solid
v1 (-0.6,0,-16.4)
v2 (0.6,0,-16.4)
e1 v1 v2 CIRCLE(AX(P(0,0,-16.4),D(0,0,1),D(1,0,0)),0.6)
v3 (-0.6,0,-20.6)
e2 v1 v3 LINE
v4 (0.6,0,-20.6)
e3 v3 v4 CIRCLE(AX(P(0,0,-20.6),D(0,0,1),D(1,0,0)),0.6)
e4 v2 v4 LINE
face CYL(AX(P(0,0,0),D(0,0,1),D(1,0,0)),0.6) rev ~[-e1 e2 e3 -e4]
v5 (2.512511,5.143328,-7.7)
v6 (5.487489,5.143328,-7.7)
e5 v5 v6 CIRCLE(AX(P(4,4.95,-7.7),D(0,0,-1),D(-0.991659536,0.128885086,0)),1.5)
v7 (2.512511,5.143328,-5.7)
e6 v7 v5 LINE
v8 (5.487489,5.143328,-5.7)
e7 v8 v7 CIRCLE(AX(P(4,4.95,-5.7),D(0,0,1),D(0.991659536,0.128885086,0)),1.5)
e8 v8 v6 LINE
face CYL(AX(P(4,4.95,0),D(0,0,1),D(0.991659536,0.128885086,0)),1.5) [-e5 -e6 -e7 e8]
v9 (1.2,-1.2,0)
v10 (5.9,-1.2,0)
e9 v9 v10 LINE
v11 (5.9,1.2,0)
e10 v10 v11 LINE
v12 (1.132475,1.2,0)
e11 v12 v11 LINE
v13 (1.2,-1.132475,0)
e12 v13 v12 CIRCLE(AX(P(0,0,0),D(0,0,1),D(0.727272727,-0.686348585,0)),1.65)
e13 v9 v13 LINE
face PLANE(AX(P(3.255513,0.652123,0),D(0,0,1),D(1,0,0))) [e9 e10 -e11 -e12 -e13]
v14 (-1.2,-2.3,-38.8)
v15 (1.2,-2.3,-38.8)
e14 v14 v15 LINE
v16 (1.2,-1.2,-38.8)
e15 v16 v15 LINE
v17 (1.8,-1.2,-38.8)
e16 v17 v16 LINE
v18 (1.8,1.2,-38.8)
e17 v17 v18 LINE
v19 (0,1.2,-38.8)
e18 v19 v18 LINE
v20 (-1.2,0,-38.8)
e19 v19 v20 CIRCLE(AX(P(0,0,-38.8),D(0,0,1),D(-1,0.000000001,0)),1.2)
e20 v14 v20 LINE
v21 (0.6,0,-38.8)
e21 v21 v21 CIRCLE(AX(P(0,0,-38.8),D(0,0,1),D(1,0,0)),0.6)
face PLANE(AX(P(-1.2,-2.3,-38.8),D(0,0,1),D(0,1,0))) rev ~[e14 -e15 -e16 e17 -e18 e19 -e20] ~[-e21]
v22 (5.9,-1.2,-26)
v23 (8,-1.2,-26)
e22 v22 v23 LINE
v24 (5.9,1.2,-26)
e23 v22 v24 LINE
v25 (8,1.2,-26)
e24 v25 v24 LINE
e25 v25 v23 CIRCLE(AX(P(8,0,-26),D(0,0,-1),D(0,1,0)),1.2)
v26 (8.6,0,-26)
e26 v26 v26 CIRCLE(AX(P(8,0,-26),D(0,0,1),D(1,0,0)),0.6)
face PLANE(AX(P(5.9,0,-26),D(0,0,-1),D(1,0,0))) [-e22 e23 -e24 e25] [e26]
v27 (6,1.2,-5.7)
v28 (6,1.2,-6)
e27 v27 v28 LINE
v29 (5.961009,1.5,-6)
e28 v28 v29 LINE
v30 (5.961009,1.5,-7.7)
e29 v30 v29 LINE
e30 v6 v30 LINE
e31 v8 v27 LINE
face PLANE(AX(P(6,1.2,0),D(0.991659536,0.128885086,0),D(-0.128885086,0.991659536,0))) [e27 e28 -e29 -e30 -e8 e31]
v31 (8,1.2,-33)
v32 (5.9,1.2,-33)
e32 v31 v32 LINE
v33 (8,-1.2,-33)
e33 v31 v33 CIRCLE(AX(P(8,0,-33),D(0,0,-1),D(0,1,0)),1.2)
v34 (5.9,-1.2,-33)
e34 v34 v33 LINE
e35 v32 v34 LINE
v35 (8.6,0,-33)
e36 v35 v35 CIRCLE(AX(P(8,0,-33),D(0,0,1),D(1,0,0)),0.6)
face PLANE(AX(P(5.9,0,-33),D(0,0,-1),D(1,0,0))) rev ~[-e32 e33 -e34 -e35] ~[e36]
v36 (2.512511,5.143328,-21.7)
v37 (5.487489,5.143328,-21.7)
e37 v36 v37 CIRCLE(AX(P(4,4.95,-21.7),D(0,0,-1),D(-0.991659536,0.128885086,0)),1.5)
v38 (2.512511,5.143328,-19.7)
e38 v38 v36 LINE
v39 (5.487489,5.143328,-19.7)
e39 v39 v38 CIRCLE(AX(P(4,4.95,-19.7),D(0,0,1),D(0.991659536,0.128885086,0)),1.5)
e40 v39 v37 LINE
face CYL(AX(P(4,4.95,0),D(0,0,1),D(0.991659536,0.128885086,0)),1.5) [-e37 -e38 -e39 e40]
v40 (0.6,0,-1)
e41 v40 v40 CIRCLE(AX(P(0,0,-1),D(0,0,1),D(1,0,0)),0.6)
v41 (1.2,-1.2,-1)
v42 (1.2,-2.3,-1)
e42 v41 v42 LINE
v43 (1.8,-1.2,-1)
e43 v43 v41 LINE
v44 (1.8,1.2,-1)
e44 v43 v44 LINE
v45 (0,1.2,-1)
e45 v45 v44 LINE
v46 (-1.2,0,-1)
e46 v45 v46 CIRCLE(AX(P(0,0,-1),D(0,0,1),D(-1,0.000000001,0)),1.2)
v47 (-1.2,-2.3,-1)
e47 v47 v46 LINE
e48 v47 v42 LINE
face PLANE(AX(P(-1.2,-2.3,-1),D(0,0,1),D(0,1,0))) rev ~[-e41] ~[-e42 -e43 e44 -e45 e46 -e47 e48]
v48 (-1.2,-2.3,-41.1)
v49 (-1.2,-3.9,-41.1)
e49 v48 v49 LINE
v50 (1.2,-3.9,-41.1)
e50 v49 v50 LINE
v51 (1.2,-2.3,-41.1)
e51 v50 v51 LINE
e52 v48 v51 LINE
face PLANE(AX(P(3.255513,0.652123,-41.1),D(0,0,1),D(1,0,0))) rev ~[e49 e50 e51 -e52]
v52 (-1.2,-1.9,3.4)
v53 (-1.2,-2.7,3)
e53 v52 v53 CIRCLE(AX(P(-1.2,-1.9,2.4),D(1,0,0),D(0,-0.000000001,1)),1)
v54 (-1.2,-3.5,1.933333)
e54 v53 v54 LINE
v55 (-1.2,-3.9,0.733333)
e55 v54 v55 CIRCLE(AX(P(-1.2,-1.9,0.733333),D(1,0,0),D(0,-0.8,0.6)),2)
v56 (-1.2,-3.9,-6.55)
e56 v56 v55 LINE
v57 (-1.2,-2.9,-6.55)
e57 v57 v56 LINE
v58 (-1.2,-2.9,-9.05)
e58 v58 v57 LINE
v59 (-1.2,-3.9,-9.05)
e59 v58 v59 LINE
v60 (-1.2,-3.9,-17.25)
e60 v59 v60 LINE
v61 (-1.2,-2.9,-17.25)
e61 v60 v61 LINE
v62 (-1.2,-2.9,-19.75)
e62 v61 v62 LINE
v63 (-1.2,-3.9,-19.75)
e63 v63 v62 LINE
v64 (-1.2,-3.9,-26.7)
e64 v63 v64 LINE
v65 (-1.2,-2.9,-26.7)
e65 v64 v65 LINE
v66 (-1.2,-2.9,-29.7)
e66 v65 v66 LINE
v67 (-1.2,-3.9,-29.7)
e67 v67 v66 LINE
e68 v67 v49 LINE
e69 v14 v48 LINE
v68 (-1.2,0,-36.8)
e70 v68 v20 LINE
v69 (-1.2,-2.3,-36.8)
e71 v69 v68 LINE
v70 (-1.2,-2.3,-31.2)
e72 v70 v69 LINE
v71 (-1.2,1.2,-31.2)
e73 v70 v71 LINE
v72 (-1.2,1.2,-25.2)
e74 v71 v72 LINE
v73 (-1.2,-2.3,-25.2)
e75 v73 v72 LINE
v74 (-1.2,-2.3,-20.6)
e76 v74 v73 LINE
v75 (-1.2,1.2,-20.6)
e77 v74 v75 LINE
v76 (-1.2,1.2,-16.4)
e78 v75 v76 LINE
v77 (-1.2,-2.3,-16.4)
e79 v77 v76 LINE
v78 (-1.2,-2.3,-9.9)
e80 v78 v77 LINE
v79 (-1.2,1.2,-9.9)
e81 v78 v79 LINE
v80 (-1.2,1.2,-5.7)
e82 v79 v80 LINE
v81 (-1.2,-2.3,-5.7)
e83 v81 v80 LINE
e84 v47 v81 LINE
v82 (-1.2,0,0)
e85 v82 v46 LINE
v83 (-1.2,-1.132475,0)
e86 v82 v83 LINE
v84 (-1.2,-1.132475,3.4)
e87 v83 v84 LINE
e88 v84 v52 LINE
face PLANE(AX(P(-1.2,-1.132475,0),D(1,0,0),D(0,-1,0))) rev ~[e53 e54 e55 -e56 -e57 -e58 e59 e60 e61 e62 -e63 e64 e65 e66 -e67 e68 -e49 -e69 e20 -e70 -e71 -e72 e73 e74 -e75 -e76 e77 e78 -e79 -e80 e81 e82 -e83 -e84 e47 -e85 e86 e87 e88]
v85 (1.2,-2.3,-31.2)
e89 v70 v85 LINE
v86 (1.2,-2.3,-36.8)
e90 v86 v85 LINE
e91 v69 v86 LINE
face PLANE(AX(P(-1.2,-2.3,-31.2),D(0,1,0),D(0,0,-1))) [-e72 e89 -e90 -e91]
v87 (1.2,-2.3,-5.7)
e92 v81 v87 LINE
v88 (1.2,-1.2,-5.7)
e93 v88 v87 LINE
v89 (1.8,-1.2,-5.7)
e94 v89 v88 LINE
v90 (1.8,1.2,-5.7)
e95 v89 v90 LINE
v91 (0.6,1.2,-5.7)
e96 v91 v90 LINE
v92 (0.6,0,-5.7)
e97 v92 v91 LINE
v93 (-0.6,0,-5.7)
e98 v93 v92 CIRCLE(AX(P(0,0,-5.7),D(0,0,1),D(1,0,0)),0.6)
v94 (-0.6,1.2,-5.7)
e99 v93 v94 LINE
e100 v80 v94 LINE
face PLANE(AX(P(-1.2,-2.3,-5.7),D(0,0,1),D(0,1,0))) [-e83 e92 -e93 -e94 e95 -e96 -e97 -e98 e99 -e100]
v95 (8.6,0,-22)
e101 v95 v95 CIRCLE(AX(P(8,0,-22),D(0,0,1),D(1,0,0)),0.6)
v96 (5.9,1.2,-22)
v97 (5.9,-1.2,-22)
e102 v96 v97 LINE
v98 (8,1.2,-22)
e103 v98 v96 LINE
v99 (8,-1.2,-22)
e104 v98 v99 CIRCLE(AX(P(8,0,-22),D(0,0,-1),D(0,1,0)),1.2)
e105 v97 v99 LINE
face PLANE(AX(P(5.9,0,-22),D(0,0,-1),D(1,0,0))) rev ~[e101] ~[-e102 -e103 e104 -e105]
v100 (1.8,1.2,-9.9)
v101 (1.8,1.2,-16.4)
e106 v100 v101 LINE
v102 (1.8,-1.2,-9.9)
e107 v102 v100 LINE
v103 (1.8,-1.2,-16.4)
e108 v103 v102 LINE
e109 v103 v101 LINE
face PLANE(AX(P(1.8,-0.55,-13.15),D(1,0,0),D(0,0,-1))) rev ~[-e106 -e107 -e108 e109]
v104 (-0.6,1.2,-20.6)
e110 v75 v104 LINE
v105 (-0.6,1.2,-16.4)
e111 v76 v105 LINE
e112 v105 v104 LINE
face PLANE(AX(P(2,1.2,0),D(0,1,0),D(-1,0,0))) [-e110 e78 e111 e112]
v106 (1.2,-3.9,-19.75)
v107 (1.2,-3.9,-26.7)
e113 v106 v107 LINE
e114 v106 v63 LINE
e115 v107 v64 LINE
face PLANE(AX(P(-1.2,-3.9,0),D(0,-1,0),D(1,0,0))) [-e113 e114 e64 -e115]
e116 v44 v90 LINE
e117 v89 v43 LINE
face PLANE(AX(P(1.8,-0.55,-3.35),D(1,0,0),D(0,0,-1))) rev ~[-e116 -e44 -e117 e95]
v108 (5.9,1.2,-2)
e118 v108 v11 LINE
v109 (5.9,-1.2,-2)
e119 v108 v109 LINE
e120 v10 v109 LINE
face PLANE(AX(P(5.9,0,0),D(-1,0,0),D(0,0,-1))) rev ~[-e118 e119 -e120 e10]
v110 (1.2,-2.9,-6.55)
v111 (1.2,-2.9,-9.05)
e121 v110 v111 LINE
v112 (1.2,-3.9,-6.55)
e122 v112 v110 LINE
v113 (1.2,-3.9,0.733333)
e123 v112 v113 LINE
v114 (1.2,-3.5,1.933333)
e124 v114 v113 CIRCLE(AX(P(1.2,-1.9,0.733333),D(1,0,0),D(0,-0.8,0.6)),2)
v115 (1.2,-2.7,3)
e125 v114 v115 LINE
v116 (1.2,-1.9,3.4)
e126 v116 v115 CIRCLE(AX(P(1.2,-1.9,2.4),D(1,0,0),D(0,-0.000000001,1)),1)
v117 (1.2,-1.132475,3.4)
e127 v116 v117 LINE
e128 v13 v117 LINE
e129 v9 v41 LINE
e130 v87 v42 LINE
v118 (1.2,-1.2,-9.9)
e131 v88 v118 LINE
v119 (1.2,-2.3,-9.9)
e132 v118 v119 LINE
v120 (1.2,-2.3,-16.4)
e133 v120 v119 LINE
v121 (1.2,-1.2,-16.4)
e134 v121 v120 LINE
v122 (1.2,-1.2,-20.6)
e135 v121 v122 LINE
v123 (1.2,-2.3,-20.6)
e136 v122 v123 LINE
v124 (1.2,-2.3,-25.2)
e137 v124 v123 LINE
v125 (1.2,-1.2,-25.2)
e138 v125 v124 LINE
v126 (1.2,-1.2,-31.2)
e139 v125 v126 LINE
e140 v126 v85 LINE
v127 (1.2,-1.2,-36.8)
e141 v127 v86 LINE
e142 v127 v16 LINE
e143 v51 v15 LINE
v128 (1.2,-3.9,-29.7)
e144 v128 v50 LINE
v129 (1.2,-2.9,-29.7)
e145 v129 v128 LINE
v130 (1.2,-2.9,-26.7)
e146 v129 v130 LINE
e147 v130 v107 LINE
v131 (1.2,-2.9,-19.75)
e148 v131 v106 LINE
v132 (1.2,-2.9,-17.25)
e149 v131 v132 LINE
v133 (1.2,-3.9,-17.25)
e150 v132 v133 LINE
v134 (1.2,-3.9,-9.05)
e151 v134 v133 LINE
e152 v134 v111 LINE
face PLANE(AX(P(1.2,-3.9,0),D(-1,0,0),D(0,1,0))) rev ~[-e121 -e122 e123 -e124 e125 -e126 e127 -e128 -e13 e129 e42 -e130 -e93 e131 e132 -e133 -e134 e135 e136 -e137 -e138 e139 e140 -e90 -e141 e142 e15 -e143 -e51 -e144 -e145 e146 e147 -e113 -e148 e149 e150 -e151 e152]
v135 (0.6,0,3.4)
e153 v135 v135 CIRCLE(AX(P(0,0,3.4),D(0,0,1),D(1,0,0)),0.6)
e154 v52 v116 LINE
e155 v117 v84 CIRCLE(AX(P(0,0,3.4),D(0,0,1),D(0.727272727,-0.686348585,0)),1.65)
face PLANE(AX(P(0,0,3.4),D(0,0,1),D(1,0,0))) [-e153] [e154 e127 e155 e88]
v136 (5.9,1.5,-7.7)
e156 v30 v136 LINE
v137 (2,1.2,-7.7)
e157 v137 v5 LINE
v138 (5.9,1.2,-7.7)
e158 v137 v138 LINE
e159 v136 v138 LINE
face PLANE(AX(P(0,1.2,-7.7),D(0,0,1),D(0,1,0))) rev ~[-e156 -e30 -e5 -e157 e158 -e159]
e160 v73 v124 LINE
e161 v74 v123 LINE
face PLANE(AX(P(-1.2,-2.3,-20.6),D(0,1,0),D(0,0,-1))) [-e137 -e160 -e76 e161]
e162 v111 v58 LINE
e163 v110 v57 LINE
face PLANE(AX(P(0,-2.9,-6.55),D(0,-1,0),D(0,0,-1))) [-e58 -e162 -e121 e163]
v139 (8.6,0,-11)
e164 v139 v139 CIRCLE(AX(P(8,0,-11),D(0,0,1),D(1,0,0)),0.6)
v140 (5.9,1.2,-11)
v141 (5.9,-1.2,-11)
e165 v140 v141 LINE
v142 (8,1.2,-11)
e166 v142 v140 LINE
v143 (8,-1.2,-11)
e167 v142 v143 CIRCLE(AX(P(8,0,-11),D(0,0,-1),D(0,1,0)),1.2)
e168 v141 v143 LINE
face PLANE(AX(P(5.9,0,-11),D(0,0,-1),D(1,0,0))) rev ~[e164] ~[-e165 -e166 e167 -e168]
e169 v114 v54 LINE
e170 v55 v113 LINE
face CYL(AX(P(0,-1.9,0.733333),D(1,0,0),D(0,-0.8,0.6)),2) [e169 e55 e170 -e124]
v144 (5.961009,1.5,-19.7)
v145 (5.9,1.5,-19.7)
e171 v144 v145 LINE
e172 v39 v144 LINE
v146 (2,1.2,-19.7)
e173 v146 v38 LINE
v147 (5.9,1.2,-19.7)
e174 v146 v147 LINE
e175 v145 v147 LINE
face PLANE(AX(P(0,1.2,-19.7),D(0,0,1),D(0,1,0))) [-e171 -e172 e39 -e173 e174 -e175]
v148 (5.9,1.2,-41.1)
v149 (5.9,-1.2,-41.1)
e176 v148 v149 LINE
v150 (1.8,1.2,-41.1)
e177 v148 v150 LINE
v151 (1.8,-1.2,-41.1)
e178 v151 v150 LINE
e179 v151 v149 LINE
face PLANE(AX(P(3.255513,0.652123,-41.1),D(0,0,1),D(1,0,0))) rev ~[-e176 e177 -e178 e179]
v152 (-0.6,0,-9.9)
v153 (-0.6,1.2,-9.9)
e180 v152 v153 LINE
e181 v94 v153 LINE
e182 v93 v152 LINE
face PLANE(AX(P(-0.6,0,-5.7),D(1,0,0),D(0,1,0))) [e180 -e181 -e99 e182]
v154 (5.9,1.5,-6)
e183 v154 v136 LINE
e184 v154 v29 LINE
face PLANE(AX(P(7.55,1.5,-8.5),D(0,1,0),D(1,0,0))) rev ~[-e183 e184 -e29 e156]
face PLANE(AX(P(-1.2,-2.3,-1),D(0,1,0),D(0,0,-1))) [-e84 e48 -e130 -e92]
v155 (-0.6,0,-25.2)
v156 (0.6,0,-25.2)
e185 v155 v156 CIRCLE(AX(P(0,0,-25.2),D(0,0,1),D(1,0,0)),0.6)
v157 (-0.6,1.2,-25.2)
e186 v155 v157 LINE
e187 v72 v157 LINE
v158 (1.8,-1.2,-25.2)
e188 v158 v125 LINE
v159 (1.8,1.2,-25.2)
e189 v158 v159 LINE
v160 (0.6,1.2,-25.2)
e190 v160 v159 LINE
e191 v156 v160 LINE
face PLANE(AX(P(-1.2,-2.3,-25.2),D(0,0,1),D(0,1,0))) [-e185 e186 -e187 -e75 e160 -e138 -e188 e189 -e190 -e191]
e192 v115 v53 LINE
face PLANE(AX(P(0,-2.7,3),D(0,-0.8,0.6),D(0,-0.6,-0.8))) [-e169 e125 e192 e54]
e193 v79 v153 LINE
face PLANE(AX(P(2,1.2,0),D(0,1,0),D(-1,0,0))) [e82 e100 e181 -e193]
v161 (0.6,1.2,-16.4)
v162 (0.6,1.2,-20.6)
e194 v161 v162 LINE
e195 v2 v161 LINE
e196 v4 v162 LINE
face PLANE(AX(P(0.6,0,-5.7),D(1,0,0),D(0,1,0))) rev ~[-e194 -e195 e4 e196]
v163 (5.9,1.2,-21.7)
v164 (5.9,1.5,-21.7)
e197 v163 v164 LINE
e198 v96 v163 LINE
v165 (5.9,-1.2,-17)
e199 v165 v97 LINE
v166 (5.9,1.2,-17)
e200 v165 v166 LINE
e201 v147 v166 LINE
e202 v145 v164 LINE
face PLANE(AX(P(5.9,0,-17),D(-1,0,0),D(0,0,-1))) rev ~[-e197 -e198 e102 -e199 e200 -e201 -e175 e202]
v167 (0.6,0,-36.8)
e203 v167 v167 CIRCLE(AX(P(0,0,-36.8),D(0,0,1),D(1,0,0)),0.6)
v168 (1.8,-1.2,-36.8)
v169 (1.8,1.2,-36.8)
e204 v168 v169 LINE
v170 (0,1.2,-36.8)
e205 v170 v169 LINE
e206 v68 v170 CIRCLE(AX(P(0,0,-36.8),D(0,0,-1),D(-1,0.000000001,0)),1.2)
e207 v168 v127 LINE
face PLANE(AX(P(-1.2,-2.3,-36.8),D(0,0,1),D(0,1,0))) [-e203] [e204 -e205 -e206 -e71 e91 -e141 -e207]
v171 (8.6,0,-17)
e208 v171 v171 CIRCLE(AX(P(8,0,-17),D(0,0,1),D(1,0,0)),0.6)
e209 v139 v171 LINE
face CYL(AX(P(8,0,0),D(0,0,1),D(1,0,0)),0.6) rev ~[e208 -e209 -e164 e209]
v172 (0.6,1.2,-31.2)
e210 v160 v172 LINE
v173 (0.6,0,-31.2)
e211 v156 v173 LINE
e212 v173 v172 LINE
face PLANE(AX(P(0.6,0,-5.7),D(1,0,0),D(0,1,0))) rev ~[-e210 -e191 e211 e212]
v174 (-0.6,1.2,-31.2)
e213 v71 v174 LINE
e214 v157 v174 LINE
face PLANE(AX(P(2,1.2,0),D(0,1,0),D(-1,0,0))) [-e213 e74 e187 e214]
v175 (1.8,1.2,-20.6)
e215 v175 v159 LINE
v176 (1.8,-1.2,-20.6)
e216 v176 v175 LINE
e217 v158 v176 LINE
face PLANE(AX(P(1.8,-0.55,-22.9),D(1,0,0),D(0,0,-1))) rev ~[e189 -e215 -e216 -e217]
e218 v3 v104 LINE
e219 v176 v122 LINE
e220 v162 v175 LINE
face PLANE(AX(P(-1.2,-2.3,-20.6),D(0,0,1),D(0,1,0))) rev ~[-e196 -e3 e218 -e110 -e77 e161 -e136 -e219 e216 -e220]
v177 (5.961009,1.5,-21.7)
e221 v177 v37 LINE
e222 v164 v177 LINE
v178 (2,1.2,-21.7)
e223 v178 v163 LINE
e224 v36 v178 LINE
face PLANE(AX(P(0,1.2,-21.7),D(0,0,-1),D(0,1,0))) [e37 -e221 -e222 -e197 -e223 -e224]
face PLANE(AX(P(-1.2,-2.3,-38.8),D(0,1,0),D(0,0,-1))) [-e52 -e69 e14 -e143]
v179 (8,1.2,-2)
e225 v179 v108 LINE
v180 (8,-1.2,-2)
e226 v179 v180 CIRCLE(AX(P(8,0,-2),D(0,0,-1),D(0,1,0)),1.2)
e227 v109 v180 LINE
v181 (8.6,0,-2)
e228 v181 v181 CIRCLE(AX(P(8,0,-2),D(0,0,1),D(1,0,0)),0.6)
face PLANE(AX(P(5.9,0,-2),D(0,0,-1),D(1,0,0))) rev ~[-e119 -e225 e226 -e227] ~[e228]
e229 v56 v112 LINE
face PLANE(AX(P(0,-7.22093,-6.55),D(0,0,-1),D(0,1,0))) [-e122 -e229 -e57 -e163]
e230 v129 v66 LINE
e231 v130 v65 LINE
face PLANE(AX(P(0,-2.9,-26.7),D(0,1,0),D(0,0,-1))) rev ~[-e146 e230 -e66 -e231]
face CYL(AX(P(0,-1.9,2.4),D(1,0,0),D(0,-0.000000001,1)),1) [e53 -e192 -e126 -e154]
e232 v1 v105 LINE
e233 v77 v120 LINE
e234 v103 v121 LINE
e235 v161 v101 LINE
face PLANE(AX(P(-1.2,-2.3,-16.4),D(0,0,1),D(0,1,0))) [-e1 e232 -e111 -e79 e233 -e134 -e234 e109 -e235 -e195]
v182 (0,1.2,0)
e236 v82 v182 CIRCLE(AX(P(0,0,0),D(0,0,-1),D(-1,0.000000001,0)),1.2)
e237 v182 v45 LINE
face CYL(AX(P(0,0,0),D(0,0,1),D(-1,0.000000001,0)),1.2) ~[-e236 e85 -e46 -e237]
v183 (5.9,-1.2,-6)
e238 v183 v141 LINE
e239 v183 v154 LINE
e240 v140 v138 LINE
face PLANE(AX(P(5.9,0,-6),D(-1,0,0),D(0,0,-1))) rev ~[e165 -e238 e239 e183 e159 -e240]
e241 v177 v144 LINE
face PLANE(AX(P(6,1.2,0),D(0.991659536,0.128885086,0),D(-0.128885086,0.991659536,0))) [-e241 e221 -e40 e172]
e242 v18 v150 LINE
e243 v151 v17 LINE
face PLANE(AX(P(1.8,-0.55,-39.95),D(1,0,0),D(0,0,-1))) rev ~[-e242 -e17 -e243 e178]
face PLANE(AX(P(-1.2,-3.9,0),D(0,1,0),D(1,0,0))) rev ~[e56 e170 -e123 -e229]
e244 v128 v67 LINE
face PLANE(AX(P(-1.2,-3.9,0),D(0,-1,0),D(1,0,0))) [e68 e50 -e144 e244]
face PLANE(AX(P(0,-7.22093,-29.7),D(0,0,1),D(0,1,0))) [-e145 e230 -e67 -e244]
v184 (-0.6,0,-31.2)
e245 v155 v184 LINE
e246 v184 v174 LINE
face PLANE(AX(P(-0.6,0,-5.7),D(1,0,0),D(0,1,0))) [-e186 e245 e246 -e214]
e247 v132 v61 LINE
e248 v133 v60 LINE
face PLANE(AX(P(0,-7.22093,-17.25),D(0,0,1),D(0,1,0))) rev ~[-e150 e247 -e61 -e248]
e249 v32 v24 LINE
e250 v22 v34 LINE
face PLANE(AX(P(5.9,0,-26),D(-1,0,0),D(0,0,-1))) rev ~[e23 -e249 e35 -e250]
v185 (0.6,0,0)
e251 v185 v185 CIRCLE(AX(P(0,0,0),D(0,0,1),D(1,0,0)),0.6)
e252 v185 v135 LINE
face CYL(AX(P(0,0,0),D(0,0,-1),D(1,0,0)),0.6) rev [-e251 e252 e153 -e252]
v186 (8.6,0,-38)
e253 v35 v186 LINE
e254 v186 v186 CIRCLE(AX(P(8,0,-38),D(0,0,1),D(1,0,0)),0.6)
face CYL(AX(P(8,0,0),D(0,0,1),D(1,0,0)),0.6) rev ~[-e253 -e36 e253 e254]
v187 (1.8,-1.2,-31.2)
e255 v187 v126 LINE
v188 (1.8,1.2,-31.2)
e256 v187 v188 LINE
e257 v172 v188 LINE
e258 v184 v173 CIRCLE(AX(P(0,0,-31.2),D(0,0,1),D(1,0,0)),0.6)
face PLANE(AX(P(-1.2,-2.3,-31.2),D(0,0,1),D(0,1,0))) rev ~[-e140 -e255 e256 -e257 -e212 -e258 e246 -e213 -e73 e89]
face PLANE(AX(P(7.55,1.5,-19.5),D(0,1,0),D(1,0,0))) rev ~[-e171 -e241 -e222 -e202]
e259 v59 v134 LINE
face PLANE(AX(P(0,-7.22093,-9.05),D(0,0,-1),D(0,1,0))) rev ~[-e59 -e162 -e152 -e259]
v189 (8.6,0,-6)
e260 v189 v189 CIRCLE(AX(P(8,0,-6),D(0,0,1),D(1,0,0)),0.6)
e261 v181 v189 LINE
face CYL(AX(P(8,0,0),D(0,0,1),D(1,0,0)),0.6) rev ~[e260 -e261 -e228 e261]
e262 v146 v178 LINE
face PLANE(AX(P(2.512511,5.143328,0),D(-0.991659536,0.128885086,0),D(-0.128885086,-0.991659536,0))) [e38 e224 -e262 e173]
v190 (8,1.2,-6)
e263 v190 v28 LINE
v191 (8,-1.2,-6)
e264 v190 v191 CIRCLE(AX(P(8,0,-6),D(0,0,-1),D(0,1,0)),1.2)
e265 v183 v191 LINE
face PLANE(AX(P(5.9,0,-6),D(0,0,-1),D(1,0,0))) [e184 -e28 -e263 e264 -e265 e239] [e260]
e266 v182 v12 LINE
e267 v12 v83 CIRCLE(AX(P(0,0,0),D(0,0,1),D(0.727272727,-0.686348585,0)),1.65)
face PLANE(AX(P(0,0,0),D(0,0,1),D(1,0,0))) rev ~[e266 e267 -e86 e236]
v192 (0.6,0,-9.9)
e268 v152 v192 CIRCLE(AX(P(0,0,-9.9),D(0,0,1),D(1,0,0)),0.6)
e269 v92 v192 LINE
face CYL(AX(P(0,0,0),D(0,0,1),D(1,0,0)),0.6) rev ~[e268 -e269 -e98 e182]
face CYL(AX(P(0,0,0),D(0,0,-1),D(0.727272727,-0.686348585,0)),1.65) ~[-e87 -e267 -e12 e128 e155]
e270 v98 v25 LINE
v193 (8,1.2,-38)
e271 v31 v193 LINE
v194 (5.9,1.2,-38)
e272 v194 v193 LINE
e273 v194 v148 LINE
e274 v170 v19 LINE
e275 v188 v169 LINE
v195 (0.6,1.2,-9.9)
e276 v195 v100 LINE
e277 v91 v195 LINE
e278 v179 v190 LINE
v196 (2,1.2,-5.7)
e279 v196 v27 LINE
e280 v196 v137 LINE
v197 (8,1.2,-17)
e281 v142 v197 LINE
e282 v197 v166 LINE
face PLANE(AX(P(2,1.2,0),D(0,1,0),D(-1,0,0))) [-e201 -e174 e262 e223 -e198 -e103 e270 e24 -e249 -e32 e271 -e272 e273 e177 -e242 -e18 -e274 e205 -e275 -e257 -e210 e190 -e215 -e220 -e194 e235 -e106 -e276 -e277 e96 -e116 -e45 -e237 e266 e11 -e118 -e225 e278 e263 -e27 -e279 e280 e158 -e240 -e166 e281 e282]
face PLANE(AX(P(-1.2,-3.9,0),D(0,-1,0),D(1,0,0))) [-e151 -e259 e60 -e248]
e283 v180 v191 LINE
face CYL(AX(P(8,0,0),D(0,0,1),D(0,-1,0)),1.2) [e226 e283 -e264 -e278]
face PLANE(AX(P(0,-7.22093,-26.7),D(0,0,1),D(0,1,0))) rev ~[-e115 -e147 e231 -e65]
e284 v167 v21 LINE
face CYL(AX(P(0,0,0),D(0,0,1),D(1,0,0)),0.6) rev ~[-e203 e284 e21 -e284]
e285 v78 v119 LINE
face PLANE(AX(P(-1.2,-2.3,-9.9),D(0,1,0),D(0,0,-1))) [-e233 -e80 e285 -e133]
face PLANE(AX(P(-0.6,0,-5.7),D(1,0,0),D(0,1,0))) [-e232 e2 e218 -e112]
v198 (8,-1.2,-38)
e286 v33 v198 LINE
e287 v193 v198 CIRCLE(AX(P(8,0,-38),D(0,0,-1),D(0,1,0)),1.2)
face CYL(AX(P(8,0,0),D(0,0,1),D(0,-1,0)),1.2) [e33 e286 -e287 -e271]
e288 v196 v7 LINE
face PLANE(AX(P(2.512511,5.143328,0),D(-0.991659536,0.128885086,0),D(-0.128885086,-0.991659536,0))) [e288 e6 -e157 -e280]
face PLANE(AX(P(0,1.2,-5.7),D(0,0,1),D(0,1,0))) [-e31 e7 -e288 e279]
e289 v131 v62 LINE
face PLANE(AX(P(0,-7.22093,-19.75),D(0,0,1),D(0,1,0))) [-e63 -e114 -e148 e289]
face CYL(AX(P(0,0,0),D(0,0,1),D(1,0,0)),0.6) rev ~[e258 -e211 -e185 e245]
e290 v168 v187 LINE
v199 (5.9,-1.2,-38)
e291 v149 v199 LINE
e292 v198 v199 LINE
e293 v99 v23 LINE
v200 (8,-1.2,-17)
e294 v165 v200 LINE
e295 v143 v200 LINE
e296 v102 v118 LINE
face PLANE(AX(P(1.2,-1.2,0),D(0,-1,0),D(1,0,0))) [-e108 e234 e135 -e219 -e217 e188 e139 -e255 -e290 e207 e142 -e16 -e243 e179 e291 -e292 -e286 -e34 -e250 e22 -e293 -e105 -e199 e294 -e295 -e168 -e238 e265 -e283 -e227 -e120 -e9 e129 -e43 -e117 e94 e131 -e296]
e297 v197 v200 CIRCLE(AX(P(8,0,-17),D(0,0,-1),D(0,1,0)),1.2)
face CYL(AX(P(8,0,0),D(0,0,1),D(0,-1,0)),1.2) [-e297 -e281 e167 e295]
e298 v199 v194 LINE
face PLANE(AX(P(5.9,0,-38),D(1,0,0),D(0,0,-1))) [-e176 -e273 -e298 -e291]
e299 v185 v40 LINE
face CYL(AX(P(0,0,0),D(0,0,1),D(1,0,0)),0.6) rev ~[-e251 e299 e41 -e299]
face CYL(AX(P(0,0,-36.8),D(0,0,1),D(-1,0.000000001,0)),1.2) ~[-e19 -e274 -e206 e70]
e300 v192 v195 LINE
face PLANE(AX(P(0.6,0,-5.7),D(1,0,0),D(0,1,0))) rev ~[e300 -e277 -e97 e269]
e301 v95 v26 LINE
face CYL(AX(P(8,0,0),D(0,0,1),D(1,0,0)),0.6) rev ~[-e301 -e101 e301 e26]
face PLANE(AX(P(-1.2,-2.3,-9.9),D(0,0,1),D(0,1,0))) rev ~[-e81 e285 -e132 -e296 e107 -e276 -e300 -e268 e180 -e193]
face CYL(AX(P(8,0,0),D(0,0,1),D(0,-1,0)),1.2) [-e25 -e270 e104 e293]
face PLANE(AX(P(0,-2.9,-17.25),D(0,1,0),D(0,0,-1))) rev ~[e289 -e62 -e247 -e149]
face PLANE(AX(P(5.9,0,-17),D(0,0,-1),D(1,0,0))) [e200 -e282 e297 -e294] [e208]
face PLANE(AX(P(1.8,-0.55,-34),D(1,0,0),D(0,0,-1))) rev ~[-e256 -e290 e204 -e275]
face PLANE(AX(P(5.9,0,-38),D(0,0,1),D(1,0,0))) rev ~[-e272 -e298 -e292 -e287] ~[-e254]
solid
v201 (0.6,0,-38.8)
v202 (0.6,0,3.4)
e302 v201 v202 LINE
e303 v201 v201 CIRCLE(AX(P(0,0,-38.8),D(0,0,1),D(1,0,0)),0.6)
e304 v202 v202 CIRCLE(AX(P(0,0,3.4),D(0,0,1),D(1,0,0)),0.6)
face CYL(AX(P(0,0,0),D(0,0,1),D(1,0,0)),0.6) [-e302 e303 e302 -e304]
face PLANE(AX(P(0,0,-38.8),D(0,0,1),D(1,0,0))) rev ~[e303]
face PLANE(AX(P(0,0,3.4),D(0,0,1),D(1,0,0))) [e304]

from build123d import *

# Parameters (mm, degrees)
SKETCH_1_R           = 0.6
EXTRUDE_1_DEPTH      = 41.1
SKETCH_2_W           = 5.7
SKETCH_2_H           = 5.25
SKETCH_2_W_2         = 12
SKETCH_2_W_3         = 19.4
CUT_EXTRUDE_1_DEPTH  = 9.75
CUT_EXTRUDE_START    = -1.2
SKETCH_6_W           = 4.7
SKETCH_6_H           = 3.5
SKETCH_6_W_2         = 6.5
SKETCH_6_W_3         = 4.6
SKETCH_6_W_4         = 5.6
SKETCH_6_W_5         = 2.3
CUT_EXTRUDE_4_DEPTH  = 3
CUT_EXTRUDE_5_DEPTH  = 3
CUT_EXTRUDE_START_2  = -36.8
CUT_EXTRUDE_6_DEPTH  = 3
CUT_EXTRUDE_START_3  = -5.7
SKETCH_11_W          = 1.2
SKETCH_11_H          = 1.2
CUT_EXTRUDE_7_DEPTH  = 27
SKETCH_12_W          = 3
SKETCH_12_H          = 4.320930259
SKETCH_12_W_2        = 2.5
CUT_EXTRUDE_8_DEPTH  = 3.5
SKETCH_13_W          = 3.3
SKETCH_13_H          = 2
SKETCH_13_H_2        = 5
SKETCH_13_H_3        = 7
SKETCH_13_H_4        = 3.1
CUT_EXTRUDE_9_DEPTH  = 1.5
SKETCH_14_R          = 1.65
SKETCH_14_R_2        = 0.6
EXTRUDE_2_DEPTH      = 3.4
CUT_EXTRUDE_10_DEPTH = 1.7
SKETCH_17_R          = 0.6
EXTRUDE_3_DEPTH      = 3.4
EXTRUDE_3_DEPTH_BACK = 38.8


with BuildPart() as part:
    # 草图1 → 凸台-拉伸1 (new body)
    with BuildSketch(Plane.XY):
        with BuildLine():
            Line((2, 1.2), (-1.2, 1.2))
            Line((-1.2, 1.2), (-1.2, -3.9))
            Line((-1.2, -3.9), (1.2, -3.9))
            Line((1.2, -3.9), (1.2, -1.2))
            Line((1.2, -1.2), (8, -1.2))
            ThreePointArc((8, -1.2), (9.2, 0), (8, 1.2))
            Line((8, 1.2), (6, 1.2))
            Line((6, 1.2), (5.487489304, 5.143327629))
            ThreePointArc((5.487489304, 5.143327629), (4, 6.45), (2.512510696, 5.143327629))
            Line((2.512510696, 5.143327629), (2, 1.2))
        make_face()
        Circle(SKETCH_1_R, mode=Mode.SUBTRACT)
        with Locations((8, 0)):
            Circle(SKETCH_1_R, mode=Mode.SUBTRACT)
    extrude(amount=-EXTRUDE_1_DEPTH)

    # 草图2 → 切除-拉伸1 (cut, symmetric)
    with BuildSketch(Plane(origin=(0, 0, 0), x_dir=(0, 0, -1), z_dir=(1, 0, 0))):
        with Locations((2.85, 3.825)):
            Rectangle(SKETCH_2_W, SKETCH_2_H)
        with Locations((13.7, 3.825)):
            Rectangle(SKETCH_2_W_2, SKETCH_2_H)
        with Locations((31.4, 3.825)):
            Rectangle(SKETCH_2_W_3, SKETCH_2_H)
    extrude(amount=CUT_EXTRUDE_1_DEPTH, both=True, mode=Mode.SUBTRACT)

    # 草图6 → 切除-拉伸4 (cut)
    with BuildSketch(Plane(origin=(0, 0, 0), x_dir=(0, 0, -1), z_dir=(1, 0, 0)).offset(CUT_EXTRUDE_START)):
        with Locations((3.35, -0.55)):
            Rectangle(SKETCH_6_W, SKETCH_6_H)
        with Locations((13.15, -0.55)):
            Rectangle(SKETCH_6_W_2, SKETCH_6_H)
        with Locations((22.9, -0.55)):
            Rectangle(SKETCH_6_W_3, SKETCH_6_H)
        with Locations((34, -0.55)):
            Rectangle(SKETCH_6_W_4, SKETCH_6_H)
        with Locations((39.95, -0.55)):
            Rectangle(SKETCH_6_W_5, SKETCH_6_H)
    extrude(amount=CUT_EXTRUDE_4_DEPTH, mode=Mode.SUBTRACT)

    # 草图9 → 切除-拉伸5 (cut)
    with BuildSketch(Plane.XY):
        with BuildLine():
            Line((0, 1.2), (-1.2, 1.2))
            Line((-1.2, 1.2), (-1.2, 0))
            ThreePointArc((-1.2, 0), (-0.848528137, 0.848528137), (0, 1.2))
        make_face()
    extrude(amount=-CUT_EXTRUDE_5_DEPTH, mode=Mode.SUBTRACT)

    # 草图9<3> → 切除-拉伸6 (cut)
    with BuildSketch(Plane.XY.offset(CUT_EXTRUDE_START_2)):
        with BuildLine():
            Line((0, 1.2), (-1.2, 1.2))
            Line((-1.2, 1.2), (-1.2, 0))
            ThreePointArc((-1.2, 0), (-0.848528137, 0.848528137), (0, 1.2))
        make_face()
    extrude(amount=-CUT_EXTRUDE_6_DEPTH, mode=Mode.SUBTRACT)

    # 草图11 → 切除-拉伸7 (cut)
    with BuildSketch(Plane.XY.offset(CUT_EXTRUDE_START_3)):
        with Locations((0, 0.6)):
            Rectangle(SKETCH_11_W, SKETCH_11_H)
    extrude(amount=-CUT_EXTRUDE_7_DEPTH, mode=Mode.SUBTRACT)

    # 草图12 → 切除-拉伸8 (cut, symmetric)
    with BuildSketch(Plane(origin=(0, 0, 0), x_dir=(0, 0, -1), z_dir=(1, 0, 0))):
        with Locations((28.2, -5.06046513)):
            Rectangle(SKETCH_12_W, SKETCH_12_H)
        with Locations((18.5, -5.06046513)):
            Rectangle(SKETCH_12_W_2, SKETCH_12_H)
        with Locations((7.8, -5.06046513)):
            Rectangle(SKETCH_12_W_2, SKETCH_12_H)
    extrude(amount=CUT_EXTRUDE_8_DEPTH, both=True, mode=Mode.SUBTRACT)

    # 草图13 → 切除-拉伸9 (cut, symmetric)
    with BuildSketch(Plane(origin=(0, 0, 0), x_dir=(1, 0, 0), z_dir=(0, 1, 0))):
        with Locations((7.55, 1)):
            Rectangle(SKETCH_13_W, SKETCH_13_H)
        with Locations((7.55, 8.5)):
            Rectangle(SKETCH_13_W, SKETCH_13_H_2)
        with Locations((7.55, 19.5)):
            Rectangle(SKETCH_13_W, SKETCH_13_H_2)
        with Locations((7.55, 29.5)):
            Rectangle(SKETCH_13_W, SKETCH_13_H_3)
        with Locations((7.55, 39.55)):
            Rectangle(SKETCH_13_W, SKETCH_13_H_4)
    extrude(amount=CUT_EXTRUDE_9_DEPTH, both=True, mode=Mode.SUBTRACT)

    # 草图14 → 凸台-拉伸2 (add)
    with BuildSketch(Plane.XY):
        Circle(SKETCH_14_R)
        Circle(SKETCH_14_R_2, mode=Mode.SUBTRACT)
        with BuildLine():
            ThreePointArc((1.2, -1.132475165), (0, -1.65), (-1.2, -1.132475165))
            Line((-1.2, -1.132475165), (-1.2, -3.9))
            Line((-1.2, -3.9), (1.2, -3.9))
            Line((1.2, -3.9), (1.2, -1.132475165))
        make_face()
    extrude(amount=EXTRUDE_2_DEPTH)

    # 草图15 → 切除-拉伸10 (cut, symmetric)
    with BuildSketch(Plane(origin=(0, 0, 0), x_dir=(0, 0, -1), z_dir=(1, 0, 0))):
        with BuildLine():
            ThreePointArc((-3.4, -1.9), (-3.294427191, -2.347213595), (-3, -2.7))
            Line((-3, -2.7), (-1.933333333, -3.5))
            ThreePointArc((-1.933333333, -3.5), (-1.365788865, -3.797366596), (-0.733333333, -3.9))
            Line((-0.733333333, -3.9), (-3.4, -3.9))
            Line((-3.4, -3.9), (-3.4, -1.9))
        make_face()
    extrude(amount=CUT_EXTRUDE_10_DEPTH, both=True, mode=Mode.SUBTRACT)


with BuildPart() as body_2:
    # 草图17 → 凸台-拉伸3 (new body, two sides)
    with BuildSketch(Plane.XY) as extrude_3_sk:
        Circle(SKETCH_17_R)
    extrude(amount=EXTRUDE_3_DEPTH)
    extrude(extrude_3_sk.sketch, amount=-EXTRUDE_3_DEPTH_BACK)


solid = Compound([part.part, body_2.part])
